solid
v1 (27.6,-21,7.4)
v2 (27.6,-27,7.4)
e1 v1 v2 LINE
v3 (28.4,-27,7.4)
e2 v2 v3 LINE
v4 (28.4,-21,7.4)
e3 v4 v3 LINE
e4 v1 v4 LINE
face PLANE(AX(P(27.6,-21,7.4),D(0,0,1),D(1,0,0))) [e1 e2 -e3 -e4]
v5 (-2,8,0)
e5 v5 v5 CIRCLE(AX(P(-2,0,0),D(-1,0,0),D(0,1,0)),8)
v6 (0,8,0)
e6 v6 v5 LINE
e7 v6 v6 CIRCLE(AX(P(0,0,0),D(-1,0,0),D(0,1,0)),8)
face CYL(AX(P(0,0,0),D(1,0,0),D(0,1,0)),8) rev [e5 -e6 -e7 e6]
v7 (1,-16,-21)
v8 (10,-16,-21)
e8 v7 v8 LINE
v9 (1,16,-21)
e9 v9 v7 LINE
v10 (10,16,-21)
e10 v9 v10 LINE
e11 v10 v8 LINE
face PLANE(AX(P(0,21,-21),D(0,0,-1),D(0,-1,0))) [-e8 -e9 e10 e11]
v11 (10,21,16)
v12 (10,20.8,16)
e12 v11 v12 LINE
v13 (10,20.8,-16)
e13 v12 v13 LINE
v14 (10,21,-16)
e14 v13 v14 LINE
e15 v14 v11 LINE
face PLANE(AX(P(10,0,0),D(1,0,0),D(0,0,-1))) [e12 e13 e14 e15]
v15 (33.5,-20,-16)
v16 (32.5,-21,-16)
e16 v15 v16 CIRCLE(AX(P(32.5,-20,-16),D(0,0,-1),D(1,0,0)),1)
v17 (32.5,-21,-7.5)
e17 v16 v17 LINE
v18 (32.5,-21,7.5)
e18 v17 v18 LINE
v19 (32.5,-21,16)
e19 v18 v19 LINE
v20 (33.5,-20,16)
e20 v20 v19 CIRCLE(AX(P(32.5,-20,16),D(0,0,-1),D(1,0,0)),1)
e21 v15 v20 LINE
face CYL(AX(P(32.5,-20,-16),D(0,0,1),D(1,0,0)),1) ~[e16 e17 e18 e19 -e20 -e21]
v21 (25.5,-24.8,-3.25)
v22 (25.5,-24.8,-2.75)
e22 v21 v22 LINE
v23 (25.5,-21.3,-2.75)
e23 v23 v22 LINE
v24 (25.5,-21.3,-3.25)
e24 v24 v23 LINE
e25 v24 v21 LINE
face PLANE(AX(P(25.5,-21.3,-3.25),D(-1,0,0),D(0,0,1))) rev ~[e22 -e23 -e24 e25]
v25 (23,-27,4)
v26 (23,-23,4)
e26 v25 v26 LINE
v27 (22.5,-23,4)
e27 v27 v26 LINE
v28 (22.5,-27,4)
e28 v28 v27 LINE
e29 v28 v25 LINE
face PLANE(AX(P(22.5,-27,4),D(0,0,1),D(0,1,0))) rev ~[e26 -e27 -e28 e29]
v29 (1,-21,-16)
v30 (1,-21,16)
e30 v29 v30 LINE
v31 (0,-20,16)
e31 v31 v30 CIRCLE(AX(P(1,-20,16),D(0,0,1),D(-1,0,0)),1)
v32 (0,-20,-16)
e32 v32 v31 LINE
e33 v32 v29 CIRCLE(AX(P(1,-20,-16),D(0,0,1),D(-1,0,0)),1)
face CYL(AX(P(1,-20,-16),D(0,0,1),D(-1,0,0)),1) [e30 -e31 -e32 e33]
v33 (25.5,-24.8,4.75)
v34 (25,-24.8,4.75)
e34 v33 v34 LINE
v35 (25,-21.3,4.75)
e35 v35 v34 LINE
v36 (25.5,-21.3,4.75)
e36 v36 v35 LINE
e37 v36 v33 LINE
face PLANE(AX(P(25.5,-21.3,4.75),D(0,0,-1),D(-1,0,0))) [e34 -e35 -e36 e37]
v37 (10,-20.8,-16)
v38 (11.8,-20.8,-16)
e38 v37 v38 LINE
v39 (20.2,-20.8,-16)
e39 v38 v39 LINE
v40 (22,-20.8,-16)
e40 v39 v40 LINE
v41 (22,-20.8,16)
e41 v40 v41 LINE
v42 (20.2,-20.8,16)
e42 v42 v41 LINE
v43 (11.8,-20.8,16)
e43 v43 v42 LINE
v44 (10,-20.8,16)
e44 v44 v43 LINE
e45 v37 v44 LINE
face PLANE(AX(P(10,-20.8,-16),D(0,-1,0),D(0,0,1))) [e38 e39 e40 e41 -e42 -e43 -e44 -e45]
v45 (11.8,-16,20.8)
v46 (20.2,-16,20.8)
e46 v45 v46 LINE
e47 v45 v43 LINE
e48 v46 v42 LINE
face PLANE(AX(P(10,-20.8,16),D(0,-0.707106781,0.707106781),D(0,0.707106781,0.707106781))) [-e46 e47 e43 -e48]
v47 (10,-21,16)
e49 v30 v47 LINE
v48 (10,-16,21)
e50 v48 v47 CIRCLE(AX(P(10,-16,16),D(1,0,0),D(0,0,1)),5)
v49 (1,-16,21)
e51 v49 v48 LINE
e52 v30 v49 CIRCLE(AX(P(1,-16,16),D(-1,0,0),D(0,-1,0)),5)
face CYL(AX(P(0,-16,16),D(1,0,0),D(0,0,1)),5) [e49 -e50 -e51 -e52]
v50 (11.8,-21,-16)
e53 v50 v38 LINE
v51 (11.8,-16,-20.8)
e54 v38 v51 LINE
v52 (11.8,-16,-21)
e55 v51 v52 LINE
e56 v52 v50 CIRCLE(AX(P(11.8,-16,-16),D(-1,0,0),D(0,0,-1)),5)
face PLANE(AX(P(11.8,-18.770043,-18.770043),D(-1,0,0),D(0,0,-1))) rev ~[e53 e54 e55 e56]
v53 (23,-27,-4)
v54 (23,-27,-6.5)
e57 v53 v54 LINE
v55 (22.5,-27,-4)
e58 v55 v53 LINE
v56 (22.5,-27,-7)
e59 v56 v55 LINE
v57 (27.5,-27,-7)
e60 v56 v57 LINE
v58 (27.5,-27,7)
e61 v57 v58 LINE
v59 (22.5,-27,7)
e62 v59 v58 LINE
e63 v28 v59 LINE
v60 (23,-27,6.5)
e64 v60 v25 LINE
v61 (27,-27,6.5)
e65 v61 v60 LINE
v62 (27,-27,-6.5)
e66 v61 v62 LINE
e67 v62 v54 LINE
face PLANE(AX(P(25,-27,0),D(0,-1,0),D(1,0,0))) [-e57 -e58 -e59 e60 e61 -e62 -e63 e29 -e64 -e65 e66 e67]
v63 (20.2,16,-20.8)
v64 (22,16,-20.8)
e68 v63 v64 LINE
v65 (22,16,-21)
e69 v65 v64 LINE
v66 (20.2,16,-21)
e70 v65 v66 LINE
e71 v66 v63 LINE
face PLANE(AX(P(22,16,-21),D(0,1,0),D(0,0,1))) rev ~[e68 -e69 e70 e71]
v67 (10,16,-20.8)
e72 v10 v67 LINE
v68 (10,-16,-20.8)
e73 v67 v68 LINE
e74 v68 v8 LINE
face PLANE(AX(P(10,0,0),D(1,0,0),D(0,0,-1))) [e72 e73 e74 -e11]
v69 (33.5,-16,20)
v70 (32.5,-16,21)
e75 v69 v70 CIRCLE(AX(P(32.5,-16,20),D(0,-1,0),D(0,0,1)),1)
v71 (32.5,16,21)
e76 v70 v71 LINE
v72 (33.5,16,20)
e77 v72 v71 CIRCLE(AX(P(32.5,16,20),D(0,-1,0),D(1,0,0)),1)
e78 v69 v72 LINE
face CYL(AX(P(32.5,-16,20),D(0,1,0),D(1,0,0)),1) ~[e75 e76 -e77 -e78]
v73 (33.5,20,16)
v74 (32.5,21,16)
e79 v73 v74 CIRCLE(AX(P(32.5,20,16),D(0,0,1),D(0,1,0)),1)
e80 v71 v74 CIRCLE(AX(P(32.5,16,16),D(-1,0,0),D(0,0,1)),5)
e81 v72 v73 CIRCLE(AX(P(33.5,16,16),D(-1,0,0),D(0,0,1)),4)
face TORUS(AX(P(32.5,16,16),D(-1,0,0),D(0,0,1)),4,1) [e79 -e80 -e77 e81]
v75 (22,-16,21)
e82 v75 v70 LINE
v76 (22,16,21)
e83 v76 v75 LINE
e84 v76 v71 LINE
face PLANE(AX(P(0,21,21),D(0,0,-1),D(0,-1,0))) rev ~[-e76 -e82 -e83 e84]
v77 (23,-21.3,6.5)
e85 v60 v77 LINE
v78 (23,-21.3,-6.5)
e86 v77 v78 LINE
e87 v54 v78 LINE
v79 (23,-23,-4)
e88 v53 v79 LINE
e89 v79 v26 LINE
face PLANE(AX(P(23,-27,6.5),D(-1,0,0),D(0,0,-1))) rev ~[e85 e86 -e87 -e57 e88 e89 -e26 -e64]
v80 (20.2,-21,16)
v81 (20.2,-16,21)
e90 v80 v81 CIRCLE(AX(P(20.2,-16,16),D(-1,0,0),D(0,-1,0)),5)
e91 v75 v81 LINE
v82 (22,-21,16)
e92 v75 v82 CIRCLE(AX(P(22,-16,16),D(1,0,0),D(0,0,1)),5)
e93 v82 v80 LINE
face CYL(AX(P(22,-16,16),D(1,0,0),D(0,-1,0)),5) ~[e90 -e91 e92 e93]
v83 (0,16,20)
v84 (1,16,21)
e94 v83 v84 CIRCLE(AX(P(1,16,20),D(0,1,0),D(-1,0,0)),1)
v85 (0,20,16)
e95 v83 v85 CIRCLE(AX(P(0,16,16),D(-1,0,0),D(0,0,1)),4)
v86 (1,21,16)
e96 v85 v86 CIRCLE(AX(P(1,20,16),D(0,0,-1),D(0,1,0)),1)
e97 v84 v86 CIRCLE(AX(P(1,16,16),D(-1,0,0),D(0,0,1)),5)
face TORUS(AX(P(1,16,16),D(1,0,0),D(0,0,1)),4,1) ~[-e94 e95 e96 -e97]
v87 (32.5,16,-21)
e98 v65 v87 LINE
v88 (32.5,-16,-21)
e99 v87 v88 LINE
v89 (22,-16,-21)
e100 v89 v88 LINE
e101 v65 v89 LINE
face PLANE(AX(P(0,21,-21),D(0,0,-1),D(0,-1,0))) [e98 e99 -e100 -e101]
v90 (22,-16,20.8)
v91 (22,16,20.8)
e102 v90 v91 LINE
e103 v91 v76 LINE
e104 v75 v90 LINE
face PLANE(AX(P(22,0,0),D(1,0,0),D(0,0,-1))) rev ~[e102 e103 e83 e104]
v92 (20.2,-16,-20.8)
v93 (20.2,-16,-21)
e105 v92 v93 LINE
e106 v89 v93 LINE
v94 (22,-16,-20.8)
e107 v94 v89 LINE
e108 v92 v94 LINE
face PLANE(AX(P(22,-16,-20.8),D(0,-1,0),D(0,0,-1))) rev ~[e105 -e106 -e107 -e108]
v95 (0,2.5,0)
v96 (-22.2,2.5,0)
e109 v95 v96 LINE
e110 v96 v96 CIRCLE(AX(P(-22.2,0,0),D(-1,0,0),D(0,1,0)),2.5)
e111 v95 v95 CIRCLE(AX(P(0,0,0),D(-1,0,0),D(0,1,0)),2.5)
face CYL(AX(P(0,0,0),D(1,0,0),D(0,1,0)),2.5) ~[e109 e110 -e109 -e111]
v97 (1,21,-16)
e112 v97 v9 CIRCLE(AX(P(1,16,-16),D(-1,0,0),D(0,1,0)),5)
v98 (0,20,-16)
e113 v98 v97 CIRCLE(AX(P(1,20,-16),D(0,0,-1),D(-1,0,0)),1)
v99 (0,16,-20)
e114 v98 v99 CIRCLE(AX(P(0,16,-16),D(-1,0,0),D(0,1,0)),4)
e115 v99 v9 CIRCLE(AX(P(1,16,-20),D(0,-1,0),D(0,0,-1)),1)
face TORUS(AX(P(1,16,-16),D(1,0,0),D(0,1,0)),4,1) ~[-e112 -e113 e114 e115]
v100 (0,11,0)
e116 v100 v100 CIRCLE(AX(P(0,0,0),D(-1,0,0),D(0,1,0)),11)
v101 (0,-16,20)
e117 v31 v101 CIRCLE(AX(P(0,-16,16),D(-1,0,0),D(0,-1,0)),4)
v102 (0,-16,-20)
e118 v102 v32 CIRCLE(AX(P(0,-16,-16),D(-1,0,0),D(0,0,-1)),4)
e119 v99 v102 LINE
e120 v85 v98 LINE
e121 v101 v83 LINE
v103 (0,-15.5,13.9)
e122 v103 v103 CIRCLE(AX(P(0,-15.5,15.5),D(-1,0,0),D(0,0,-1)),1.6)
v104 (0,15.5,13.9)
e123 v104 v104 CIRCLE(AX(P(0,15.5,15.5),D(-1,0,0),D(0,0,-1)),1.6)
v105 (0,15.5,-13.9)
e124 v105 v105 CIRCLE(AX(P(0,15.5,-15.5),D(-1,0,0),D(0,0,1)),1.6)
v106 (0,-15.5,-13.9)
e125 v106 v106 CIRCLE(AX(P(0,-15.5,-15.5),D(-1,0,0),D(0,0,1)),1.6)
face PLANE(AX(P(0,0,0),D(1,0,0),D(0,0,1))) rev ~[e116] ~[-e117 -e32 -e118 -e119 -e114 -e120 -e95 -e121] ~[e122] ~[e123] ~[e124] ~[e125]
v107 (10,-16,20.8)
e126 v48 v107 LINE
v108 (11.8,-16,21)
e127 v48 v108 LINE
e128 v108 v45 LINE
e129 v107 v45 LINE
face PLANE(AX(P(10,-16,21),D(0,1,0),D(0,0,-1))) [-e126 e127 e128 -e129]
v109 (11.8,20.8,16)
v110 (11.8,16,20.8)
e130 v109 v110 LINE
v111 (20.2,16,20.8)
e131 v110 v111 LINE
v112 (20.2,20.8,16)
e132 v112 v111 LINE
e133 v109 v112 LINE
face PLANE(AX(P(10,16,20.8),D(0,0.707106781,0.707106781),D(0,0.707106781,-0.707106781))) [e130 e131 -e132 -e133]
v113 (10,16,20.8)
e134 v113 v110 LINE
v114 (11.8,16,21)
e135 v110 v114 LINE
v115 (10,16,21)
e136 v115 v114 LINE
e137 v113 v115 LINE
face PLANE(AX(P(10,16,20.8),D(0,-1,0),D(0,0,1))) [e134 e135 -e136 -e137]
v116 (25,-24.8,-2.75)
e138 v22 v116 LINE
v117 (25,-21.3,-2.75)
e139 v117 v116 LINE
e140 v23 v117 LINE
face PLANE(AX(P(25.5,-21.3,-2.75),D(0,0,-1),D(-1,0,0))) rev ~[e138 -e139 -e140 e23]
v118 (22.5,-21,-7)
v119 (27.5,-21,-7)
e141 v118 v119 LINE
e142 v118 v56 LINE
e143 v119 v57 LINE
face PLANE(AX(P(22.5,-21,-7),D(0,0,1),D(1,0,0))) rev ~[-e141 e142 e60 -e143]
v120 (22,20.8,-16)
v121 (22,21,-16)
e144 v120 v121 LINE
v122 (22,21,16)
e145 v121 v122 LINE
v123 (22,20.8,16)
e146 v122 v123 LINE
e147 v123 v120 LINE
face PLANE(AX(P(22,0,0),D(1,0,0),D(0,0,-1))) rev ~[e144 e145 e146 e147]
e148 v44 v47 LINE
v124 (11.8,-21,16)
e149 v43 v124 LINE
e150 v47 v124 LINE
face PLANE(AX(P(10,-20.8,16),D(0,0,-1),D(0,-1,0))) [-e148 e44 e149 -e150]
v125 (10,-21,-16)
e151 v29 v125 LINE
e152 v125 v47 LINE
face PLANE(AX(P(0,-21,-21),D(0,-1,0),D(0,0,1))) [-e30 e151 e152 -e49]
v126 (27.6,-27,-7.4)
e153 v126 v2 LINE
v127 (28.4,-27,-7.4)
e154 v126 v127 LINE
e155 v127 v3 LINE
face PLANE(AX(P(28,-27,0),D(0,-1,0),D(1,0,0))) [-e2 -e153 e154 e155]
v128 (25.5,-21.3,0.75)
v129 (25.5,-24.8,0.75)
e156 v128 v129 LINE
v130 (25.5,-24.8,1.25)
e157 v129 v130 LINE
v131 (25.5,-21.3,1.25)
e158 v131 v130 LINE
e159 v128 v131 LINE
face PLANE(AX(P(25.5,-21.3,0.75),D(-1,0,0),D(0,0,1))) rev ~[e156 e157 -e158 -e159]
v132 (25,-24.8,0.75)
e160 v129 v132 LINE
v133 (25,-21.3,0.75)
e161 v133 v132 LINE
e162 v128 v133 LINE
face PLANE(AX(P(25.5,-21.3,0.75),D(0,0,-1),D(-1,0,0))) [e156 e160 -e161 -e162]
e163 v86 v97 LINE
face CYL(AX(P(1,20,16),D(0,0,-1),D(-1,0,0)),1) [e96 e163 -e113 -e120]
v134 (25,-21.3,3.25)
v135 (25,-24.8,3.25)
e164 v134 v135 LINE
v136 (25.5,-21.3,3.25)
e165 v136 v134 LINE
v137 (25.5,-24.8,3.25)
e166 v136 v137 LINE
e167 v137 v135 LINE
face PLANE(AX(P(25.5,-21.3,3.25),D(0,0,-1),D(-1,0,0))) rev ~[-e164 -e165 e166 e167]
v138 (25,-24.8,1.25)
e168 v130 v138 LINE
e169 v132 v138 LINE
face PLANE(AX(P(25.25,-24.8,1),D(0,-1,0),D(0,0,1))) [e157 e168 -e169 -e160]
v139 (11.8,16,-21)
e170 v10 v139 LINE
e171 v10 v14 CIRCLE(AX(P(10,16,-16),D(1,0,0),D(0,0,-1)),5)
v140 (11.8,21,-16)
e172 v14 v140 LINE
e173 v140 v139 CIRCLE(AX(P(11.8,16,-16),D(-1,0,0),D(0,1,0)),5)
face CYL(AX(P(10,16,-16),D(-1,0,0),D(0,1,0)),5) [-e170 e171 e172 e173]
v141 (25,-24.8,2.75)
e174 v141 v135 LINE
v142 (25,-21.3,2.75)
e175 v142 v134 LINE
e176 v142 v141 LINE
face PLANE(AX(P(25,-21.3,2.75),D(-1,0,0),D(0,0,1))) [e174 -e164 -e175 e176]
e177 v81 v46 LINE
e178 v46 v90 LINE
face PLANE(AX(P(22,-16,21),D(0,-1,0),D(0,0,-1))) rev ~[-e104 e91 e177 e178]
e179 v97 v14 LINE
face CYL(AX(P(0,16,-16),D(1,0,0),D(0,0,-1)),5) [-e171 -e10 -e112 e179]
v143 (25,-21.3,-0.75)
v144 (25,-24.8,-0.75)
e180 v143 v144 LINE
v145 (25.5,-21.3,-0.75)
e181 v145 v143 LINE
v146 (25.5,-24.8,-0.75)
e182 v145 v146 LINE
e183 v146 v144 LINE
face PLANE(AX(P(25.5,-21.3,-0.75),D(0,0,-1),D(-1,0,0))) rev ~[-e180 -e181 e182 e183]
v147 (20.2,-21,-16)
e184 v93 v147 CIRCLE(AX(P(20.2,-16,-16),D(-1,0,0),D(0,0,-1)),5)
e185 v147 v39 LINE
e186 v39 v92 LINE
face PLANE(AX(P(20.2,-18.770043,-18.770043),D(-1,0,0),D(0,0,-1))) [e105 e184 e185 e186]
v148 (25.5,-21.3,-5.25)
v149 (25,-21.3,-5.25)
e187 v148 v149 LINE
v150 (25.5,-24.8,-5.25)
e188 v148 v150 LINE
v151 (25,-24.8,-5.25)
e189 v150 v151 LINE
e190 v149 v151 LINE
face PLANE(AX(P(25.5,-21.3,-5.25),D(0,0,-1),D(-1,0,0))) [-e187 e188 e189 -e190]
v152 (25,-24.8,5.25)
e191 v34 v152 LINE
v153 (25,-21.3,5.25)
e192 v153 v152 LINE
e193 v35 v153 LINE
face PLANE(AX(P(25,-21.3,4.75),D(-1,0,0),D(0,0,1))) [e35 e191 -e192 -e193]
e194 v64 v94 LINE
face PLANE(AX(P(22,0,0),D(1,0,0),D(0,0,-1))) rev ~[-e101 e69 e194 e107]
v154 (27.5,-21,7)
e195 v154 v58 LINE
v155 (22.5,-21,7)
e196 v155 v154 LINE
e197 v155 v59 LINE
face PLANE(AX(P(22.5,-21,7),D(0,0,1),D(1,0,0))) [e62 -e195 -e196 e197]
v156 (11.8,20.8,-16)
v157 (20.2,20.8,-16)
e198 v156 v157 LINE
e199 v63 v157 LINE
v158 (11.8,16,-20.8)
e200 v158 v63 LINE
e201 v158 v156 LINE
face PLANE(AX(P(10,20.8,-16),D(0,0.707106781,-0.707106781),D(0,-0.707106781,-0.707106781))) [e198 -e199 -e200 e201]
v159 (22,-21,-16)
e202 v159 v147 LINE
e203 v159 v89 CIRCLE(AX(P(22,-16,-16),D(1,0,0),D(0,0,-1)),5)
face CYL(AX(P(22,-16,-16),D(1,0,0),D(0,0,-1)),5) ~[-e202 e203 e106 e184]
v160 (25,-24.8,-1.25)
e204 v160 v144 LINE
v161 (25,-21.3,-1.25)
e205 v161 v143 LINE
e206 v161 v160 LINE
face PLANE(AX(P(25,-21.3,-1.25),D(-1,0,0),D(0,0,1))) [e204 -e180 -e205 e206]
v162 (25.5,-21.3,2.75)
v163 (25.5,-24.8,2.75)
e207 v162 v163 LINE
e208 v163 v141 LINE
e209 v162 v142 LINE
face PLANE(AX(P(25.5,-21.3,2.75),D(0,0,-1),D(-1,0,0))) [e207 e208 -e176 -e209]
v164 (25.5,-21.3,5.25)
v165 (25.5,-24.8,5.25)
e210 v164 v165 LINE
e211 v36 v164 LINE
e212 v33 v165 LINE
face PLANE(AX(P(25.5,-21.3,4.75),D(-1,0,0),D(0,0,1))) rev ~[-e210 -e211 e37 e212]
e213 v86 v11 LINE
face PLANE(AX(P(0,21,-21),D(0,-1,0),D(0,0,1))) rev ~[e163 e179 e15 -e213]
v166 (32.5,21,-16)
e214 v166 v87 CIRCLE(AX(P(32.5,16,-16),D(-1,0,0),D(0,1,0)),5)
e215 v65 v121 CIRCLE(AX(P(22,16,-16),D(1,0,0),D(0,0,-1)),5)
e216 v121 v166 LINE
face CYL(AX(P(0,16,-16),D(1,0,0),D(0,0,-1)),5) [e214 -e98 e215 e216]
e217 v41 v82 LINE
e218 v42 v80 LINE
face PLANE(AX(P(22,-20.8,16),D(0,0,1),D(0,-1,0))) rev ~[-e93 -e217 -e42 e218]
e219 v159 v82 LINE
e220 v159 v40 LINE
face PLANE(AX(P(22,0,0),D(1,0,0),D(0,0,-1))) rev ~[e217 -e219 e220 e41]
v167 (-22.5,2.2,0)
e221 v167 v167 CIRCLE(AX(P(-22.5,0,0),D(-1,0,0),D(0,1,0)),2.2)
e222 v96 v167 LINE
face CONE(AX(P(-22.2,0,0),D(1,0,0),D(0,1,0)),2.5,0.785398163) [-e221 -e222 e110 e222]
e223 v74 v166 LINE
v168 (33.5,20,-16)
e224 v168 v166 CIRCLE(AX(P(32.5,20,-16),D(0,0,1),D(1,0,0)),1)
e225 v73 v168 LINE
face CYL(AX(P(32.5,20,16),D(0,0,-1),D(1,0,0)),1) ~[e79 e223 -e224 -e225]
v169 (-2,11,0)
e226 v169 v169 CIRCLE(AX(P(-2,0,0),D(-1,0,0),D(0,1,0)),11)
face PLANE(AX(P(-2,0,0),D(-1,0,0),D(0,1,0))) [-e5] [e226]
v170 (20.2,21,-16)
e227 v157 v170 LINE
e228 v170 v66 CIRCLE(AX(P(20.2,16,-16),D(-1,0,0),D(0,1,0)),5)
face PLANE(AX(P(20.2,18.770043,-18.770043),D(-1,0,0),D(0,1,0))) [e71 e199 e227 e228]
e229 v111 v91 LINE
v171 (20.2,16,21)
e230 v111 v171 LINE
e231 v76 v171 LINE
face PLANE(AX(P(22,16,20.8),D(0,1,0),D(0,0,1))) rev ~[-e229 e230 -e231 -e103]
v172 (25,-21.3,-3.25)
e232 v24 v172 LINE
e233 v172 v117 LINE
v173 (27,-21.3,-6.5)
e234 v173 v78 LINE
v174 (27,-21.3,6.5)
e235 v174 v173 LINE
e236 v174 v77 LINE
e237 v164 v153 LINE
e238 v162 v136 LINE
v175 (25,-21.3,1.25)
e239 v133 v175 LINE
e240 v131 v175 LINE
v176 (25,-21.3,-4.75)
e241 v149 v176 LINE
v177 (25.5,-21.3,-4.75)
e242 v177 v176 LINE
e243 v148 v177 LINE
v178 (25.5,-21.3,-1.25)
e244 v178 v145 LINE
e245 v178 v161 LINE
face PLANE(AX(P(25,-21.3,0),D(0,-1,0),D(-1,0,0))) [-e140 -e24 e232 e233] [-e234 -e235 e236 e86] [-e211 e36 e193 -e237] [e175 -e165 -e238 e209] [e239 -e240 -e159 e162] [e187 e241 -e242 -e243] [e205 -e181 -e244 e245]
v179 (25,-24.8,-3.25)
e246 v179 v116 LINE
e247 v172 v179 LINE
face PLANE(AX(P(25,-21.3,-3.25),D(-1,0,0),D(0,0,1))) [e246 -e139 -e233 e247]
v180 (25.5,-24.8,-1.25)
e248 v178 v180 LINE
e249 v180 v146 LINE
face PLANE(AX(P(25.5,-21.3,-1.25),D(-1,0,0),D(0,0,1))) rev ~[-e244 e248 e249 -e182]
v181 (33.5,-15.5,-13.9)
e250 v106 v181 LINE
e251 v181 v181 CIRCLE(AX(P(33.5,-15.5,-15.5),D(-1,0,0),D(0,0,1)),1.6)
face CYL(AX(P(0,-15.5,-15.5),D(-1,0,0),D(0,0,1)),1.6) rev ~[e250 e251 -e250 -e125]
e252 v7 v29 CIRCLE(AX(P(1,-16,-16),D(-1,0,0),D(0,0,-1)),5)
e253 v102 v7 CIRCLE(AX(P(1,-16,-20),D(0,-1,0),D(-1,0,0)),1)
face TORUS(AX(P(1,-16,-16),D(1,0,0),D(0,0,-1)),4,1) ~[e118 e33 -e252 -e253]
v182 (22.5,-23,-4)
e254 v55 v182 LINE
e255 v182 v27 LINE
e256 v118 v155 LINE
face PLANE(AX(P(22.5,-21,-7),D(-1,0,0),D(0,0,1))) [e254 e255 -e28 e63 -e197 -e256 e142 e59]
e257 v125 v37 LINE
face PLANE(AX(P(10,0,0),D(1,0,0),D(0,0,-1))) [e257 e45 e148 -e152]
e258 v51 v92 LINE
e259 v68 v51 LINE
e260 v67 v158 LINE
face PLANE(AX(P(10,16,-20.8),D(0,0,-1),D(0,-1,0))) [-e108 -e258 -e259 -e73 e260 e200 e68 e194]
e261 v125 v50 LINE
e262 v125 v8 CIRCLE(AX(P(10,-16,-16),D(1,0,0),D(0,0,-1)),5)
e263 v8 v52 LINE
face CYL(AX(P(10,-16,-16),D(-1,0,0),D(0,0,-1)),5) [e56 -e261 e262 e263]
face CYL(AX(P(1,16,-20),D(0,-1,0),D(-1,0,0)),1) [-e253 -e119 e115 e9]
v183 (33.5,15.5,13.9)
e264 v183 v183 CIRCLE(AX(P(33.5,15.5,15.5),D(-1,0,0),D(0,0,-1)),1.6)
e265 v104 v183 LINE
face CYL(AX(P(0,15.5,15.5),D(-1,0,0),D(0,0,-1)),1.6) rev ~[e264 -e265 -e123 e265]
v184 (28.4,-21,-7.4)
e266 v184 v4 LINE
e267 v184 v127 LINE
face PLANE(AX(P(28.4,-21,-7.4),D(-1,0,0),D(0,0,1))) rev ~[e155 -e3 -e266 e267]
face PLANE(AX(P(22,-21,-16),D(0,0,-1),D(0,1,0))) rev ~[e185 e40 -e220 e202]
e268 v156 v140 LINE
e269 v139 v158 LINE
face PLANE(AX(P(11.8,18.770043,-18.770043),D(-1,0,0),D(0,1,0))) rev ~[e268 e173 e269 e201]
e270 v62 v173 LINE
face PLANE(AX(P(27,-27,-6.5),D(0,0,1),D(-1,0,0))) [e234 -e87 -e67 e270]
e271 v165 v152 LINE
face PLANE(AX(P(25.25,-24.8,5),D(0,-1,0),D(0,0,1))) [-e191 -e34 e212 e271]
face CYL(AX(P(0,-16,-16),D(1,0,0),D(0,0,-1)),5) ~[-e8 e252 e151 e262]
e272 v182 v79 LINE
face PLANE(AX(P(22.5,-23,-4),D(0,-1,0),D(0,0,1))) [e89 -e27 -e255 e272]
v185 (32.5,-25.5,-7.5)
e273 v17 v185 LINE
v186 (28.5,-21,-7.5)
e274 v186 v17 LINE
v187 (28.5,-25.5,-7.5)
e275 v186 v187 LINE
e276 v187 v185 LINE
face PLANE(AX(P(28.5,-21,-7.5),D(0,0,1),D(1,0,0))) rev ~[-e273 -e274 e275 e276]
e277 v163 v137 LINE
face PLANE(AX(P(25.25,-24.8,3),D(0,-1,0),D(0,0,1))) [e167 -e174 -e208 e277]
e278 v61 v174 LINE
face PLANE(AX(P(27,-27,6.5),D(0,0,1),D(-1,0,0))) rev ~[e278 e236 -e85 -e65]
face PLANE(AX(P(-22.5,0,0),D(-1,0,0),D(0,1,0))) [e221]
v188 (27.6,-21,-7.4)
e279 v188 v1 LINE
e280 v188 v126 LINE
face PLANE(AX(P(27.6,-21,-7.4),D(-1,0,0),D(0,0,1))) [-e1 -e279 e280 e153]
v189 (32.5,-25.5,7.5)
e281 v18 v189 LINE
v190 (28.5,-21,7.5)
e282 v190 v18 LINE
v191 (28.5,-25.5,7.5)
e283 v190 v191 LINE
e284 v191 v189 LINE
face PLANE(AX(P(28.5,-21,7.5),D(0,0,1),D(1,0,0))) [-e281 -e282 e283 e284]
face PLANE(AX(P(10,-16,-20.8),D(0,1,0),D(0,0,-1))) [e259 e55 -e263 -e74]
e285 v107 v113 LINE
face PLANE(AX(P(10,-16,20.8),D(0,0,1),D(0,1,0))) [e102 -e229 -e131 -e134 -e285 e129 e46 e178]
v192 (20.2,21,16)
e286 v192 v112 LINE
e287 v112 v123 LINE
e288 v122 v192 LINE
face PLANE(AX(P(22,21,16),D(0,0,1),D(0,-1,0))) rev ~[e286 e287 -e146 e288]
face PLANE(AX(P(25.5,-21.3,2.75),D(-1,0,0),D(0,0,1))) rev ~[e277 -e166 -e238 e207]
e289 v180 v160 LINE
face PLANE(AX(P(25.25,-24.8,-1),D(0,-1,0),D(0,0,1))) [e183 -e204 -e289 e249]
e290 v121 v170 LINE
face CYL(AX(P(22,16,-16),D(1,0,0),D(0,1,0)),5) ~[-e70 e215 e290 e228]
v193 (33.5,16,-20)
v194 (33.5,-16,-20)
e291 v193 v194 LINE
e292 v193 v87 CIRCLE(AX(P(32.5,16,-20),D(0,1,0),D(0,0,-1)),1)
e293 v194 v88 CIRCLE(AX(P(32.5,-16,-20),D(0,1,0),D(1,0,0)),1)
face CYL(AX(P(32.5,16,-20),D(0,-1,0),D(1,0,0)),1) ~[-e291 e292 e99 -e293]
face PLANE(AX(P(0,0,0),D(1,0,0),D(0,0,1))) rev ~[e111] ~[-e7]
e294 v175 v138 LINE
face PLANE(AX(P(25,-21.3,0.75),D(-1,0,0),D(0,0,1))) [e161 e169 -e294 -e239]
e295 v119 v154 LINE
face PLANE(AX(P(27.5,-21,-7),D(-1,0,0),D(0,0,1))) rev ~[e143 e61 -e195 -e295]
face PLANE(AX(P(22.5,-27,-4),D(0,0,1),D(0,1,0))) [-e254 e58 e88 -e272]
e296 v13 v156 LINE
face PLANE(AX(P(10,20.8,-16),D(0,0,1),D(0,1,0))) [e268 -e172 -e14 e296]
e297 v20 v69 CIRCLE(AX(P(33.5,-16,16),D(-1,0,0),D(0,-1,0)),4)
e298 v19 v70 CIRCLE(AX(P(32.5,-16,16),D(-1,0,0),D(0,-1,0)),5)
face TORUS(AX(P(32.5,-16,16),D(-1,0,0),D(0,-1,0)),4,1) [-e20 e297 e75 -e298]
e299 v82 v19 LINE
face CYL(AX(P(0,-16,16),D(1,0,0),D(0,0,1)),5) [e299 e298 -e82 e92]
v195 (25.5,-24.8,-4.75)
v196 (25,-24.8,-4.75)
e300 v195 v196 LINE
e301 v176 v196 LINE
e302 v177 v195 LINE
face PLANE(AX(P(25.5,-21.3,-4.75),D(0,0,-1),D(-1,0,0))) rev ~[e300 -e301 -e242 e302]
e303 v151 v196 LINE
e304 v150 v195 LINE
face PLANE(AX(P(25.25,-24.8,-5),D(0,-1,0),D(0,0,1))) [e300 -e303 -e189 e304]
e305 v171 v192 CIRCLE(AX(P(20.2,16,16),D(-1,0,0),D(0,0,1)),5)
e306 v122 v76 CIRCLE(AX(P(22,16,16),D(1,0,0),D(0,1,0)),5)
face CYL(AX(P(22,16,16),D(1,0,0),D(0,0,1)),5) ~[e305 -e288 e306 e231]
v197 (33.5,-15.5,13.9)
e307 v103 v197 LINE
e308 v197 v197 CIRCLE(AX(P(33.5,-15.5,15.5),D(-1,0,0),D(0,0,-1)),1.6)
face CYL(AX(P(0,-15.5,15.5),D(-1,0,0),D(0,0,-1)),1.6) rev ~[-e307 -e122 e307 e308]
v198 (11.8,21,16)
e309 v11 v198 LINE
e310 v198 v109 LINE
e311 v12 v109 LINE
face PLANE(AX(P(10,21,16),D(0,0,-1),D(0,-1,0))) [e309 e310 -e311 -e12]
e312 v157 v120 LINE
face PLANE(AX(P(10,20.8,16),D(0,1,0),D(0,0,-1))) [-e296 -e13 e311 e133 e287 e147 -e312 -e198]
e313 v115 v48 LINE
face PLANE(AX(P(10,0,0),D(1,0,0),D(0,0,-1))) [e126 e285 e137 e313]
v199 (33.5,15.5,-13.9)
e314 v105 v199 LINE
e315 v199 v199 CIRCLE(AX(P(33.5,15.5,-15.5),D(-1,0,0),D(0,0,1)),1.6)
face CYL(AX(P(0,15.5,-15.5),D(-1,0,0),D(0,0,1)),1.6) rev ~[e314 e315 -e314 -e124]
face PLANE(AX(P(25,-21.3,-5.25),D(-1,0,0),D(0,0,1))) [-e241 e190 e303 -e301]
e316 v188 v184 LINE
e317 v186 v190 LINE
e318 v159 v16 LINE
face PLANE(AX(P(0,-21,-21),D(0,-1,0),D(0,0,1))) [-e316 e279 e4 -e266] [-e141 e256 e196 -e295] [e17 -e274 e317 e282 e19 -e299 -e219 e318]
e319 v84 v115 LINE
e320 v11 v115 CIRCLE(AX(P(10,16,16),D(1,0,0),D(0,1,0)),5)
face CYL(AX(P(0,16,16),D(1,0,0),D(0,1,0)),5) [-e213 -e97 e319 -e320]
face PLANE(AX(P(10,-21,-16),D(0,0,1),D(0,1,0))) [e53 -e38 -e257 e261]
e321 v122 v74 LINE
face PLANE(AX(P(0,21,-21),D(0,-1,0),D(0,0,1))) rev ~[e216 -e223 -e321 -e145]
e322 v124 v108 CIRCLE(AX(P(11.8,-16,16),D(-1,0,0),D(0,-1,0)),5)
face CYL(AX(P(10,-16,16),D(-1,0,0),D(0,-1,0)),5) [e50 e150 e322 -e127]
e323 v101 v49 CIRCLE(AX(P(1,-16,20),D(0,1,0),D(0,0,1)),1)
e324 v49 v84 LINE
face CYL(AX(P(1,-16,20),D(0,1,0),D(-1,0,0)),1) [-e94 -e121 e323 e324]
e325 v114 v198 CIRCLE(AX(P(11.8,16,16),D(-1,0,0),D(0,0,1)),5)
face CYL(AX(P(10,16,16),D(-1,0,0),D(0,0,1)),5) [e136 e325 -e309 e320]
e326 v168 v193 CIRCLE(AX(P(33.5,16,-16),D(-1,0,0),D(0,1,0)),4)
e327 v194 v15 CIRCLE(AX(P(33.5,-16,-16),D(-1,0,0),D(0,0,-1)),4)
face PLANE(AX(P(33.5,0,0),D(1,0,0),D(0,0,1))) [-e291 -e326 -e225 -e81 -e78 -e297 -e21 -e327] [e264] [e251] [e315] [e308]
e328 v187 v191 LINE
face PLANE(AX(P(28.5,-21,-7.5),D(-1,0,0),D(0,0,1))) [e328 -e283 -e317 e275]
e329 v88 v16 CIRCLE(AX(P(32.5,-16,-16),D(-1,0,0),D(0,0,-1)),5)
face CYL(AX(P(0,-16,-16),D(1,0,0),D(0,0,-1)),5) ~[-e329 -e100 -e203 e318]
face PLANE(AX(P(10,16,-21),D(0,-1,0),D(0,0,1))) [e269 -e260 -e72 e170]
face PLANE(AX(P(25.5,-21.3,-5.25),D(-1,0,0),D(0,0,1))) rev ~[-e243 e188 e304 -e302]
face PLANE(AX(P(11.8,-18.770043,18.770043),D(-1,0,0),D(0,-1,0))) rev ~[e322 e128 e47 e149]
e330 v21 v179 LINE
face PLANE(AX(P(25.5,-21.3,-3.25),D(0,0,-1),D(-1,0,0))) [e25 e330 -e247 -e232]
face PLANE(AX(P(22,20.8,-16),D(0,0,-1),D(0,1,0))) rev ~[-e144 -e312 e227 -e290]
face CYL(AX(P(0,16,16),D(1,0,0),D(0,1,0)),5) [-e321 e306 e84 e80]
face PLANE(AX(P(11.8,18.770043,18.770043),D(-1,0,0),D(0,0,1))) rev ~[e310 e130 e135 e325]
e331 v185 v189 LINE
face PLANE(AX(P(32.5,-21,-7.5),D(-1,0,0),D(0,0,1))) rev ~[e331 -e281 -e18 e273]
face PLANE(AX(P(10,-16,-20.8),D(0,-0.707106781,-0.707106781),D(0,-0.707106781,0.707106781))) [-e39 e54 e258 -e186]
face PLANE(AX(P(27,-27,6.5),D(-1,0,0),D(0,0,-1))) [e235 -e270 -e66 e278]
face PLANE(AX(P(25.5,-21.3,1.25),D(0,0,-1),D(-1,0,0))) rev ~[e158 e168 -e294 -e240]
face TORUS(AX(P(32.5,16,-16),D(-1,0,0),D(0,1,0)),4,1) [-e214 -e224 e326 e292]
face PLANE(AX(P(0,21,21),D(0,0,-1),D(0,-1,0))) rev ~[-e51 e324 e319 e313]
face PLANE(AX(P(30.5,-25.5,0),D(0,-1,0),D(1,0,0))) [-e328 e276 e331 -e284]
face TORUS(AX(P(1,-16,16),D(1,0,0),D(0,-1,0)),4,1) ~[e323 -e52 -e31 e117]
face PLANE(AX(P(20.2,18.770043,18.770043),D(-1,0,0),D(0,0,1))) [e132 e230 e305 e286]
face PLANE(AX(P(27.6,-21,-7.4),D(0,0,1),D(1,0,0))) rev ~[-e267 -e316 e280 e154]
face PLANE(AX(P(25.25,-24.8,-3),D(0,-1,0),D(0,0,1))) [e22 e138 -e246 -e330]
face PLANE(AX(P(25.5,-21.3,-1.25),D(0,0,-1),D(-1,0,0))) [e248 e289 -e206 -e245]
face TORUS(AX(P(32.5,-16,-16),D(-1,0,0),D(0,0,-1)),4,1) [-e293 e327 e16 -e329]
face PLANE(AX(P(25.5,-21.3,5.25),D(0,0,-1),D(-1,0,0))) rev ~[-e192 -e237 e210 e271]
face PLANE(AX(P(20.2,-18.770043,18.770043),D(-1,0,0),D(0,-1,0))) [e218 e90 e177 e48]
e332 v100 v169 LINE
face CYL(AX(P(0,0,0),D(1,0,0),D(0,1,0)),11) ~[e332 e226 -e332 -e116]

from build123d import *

# Parameters (mm, degrees)
SKETCH1_W           = 42
SKETCH1_H           = 42
BASE_EXTRUDE_DEPTH  = 33.5
FILLET1_R           = 5
SKETCH2_R           = 11
SKETCH2_R_2         = 8
BOSS_EXTRUDE1_DEPTH = 2
SKETCH3_R           = 2.5
BOSS_EXTRUDE2_DEPTH = 22.5
FILLET2_R           = 1
SKETCH4_R           = 1.6
CUT_EXTRUDE1_DEPTH  = 45.768850778
SKETCH5_R           = 1.6
CUT_EXTRUDE2_DEPTH  = 45.768850778
SKETCH6_R           = 1.6
CUT_EXTRUDE3_DEPTH  = 45.768850778
SKETCH7_R           = 1.6
CUT_EXTRUDE4_DEPTH  = 45.768850778
SKETCH9_OUTSIDE_W   = 60.326
SKETCH9_OUTSIDE_H   = 60.326
CUT_EXTRUDE8_DEPTH  = 12
BOSS_EXTRUDE3_START = 1.8
BOSS_EXTRUDE3_DEPTH = 1.8
BOSS_EXTRUDE4_DEPTH = 1.8
CIRPATTERN1_COUNT   = 4
SKETCH13_W          = 4
SKETCH13_H          = 15
BOSS_EXTRUDE6_DEPTH = 4.5
SKETCH14_W          = 5
SKETCH14_H          = 14
BOSS_EXTRUDE7_DEPTH = 6
SKETCH15_W          = 4
SKETCH15_H          = 13
CUT_EXTRUDE9_DEPTH  = 5.7
SKETCH16_W          = 4
SKETCH16_H          = 8
CUT_EXTRUDE10_DEPTH = 1
SKETCH17_W          = 0.5
SKETCH17_H          = 0.5
BOSS_EXTRUDE8_DEPTH = 3.5
LPATTERN1_COUNT     = 6
LPATTERN1_PITCH     = 2
SKETCH18_W          = 0.8
SKETCH18_H          = 14.8
BOSS_EXTRUDE9_DEPTH = 6
CHAMFER1_SIZE       = 0.3


with BuildPart() as part:
    # Sketch1 → Base-Extrude (new body)
    with BuildSketch(Plane(origin=(0, 0, 0), x_dir=(0, 0, 1), z_dir=(1, 0, 0))):
        Rectangle(SKETCH1_W, SKETCH1_H)
    extrude(amount=BASE_EXTRUDE_DEPTH)

    # Fillet1
    fillet1_edges = [part.edges().sort_by_distance(p)[0] for p in [
        (16.75, -21, 21),
        (16.75, -21, -21),
        (16.75, 21, 21),
        (16.75, 21, -21),
    ]]
    fillet(fillet1_edges, radius=FILLET1_R)

    # Sketch2 → Boss-Extrude1 (add)
    with BuildSketch(Plane(origin=(0, 0, 0), x_dir=(0, 1, 0), z_dir=(-1, 0, 0))):
        Circle(SKETCH2_R)
        Circle(SKETCH2_R_2, mode=Mode.SUBTRACT)
    extrude(amount=BOSS_EXTRUDE1_DEPTH)

    # Sketch3 → Boss-Extrude2 (add)
    with BuildSketch(Plane(origin=(0, 0, 0), x_dir=(0, 1, 0), z_dir=(-1, 0, 0))):
        Circle(SKETCH3_R)
    extrude(amount=BOSS_EXTRUDE2_DEPTH)

    # Fillet2
    fillet2_edges = [part.edges().sort_by_distance(p)[0] for p in [
        (0, 21, 0),
        (0, 19.535533906, 19.535533906),
        (0, 0, 21),
        (0, -19.535533906, 19.535533906),
        (0, -21, 0),
        (0, -19.535533906, -19.535533906),
        (0, 0, -21),
        (0, 19.535533906, -19.535533906),
        (33.5, 21, 0),
        (33.5, 19.535533906, 19.535533906),
        (33.5, 0, 21),
        (33.5, -19.535533906, 19.535533906),
        (33.5, -21, 0),
        (33.5, -19.535533906, -19.535533906),
        (33.5, 0, -21),
        (33.5, 19.535533906, -19.535533906),
    ]]
    fillet(fillet2_edges, radius=FILLET2_R)

    # Sketch4 → Cut-Extrude1 (cut, through all)
    with BuildSketch(Plane.ZY):
        with Locations((-15.5, 15.5)):
            Circle(SKETCH4_R)
    extrude(amount=-CUT_EXTRUDE1_DEPTH, mode=Mode.SUBTRACT)

    # Sketch5 → Cut-Extrude2 (cut, through all)
    with BuildSketch(Plane.ZY):
        with Locations((-15.5, -15.5)):
            Circle(SKETCH5_R)
    extrude(amount=-CUT_EXTRUDE2_DEPTH, mode=Mode.SUBTRACT)

    # Sketch6 → Cut-Extrude3 (cut, through all)
    with BuildSketch(Plane(origin=(0, 0, 0), x_dir=(0, 0, -1), z_dir=(-1, 0, 0))):
        with Locations((-15.5, -15.5)):
            Circle(SKETCH6_R)
    extrude(amount=-CUT_EXTRUDE3_DEPTH, mode=Mode.SUBTRACT)

    # Sketch7 → Cut-Extrude4 (cut, through all)
    with BuildSketch(Plane(origin=(0, 0, 0), x_dir=(0, 0, -1), z_dir=(-1, 0, 0))):
        with Locations((-15.5, 15.5)):
            Circle(SKETCH7_R)
    extrude(amount=-CUT_EXTRUDE4_DEPTH, mode=Mode.SUBTRACT)

    # Sketch9 outside → Cut-Extrude8 (cut)
    with BuildSketch(Plane(origin=(10, 0, 0), x_dir=(0, 0, -1), z_dir=(1, 0, 0))):
        Rectangle(SKETCH9_OUTSIDE_W, SKETCH9_OUTSIDE_H)
        Polygon((20.8, 16), (20.8, -16), (16, -20.8), (-16, -20.8), (-20.8, -16), (-20.8, 16), (-16, 20.8), (16, 20.8), align=None, mode=Mode.SUBTRACT)
    extrude(amount=CUT_EXTRUDE8_DEPTH, mode=Mode.SUBTRACT)

    # Sketch10 → Boss-Extrude3 (add)
    with BuildSketch(Plane(origin=(10, 0, 0), x_dir=(0, 0, -1), z_dir=(1, 0, 0)).offset(BOSS_EXTRUDE3_START)):
        with BuildLine():
            Line((-16, 20.8), (-20.8, 16))
            Line((-20.8, 16), (-21, 16))
            ThreePointArc((-21, 16), (-19.535533906, 19.535533906), (-16, 21))
            Line((-16, 21), (-16, 20.8))
        make_face()
    boss_extrude3 = extrude(amount=-BOSS_EXTRUDE3_DEPTH)

    # Sketch11 → Boss-Extrude4 (add)
    with BuildSketch(Plane.ZY.offset(-22)):
        with BuildLine():
            Line((16, 20.8), (20.8, 16))
            Line((20.8, 16), (21, 16))
            ThreePointArc((21, 16), (19.535533906, 19.535533906), (16, 21))
            Line((16, 21), (16, 20.8))
        make_face()
    boss_extrude4 = extrude(amount=BOSS_EXTRUDE4_DEPTH)

    # CirPattern1: Boss-Extrude3, Boss-Extrude4 ×4 about axis
    cirpattern1_axis = Axis((-22.5, 0, 0), (1, 0, 0))
    add([boss_extrude3.rotate(cirpattern1_axis, i * 360 / CIRPATTERN1_COUNT) for i in range(1, CIRPATTERN1_COUNT)])
    add([boss_extrude4.rotate(cirpattern1_axis, i * 360 / CIRPATTERN1_COUNT) for i in range(1, CIRPATTERN1_COUNT)])

    # Sketch13 → Boss-Extrude6 (add)
    with BuildSketch(Plane.XZ.offset(21)):
        with Locations((30.5, 0)):
            Rectangle(SKETCH13_W, SKETCH13_H)
    extrude(amount=BOSS_EXTRUDE6_DEPTH)

    # Sketch14 → Boss-Extrude7 (add)
    with BuildSketch(Plane(origin=(-111.861481215, -21, -36.560355199), x_dir=(1, 0, 0), z_dir=(0, -1, 0))):
        with Locations((136.861481215, 36.560355199)):
            Rectangle(SKETCH14_W, SKETCH14_H)
    extrude(amount=BOSS_EXTRUDE7_DEPTH)

    # Sketch15 → Cut-Extrude9 (cut)
    with BuildSketch(Plane(origin=(-111.861481215, -27, 3.287540826), x_dir=(-1, 0, 0), z_dir=(0, -1, 0))):
        with Locations((-136.861481215, 3.287540826)):
            Rectangle(SKETCH15_W, SKETCH15_H)
    extrude(amount=-CUT_EXTRUDE9_DEPTH, mode=Mode.SUBTRACT)

    # Sketch16 → Cut-Extrude10 (cut)
    with BuildSketch(Plane(origin=(22.5, -161.361481215, -36.560355199), x_dir=(0, 1, 0), z_dir=(1, 0, 0))):
        with Locations((136.361481215, 36.560355199)):
            Rectangle(SKETCH16_W, SKETCH16_H)
    extrude(amount=CUT_EXTRUDE10_DEPTH, mode=Mode.SUBTRACT)

    # Sketch17 → Boss-Extrude8 (add)
    with BuildSketch(Plane(origin=(-20.898451589, -21.3, 138.79747363), x_dir=(0, 0, 1), z_dir=(0, -1, 0))):
        with Locations((-133.79747363, -46.148451589)):
            Rectangle(SKETCH17_W, SKETCH17_H)
    boss_extrude8 = extrude(amount=BOSS_EXTRUDE8_DEPTH)

    # LPattern1: Boss-Extrude8 ×6
    with Locations(*[(0, 0, -i * LPATTERN1_PITCH) for i in range(1, LPATTERN1_COUNT)]):
        add(boss_extrude8)

    # Sketch18 → Boss-Extrude9 (add)
    with BuildSketch(Plane.XZ.offset(21)):
        with Locations((28, 0)):
            Rectangle(SKETCH18_W, SKETCH18_H)
    extrude(amount=BOSS_EXTRUDE9_DEPTH)

    # Chamfer1
    chamfer1_edges = [part.edges().sort_by_distance(p)[0] for p in [
        (-22.5, -2.5, 0),
    ]]
    chamfer(chamfer1_edges, length=CHAMFER1_SIZE)


solid = part.part
